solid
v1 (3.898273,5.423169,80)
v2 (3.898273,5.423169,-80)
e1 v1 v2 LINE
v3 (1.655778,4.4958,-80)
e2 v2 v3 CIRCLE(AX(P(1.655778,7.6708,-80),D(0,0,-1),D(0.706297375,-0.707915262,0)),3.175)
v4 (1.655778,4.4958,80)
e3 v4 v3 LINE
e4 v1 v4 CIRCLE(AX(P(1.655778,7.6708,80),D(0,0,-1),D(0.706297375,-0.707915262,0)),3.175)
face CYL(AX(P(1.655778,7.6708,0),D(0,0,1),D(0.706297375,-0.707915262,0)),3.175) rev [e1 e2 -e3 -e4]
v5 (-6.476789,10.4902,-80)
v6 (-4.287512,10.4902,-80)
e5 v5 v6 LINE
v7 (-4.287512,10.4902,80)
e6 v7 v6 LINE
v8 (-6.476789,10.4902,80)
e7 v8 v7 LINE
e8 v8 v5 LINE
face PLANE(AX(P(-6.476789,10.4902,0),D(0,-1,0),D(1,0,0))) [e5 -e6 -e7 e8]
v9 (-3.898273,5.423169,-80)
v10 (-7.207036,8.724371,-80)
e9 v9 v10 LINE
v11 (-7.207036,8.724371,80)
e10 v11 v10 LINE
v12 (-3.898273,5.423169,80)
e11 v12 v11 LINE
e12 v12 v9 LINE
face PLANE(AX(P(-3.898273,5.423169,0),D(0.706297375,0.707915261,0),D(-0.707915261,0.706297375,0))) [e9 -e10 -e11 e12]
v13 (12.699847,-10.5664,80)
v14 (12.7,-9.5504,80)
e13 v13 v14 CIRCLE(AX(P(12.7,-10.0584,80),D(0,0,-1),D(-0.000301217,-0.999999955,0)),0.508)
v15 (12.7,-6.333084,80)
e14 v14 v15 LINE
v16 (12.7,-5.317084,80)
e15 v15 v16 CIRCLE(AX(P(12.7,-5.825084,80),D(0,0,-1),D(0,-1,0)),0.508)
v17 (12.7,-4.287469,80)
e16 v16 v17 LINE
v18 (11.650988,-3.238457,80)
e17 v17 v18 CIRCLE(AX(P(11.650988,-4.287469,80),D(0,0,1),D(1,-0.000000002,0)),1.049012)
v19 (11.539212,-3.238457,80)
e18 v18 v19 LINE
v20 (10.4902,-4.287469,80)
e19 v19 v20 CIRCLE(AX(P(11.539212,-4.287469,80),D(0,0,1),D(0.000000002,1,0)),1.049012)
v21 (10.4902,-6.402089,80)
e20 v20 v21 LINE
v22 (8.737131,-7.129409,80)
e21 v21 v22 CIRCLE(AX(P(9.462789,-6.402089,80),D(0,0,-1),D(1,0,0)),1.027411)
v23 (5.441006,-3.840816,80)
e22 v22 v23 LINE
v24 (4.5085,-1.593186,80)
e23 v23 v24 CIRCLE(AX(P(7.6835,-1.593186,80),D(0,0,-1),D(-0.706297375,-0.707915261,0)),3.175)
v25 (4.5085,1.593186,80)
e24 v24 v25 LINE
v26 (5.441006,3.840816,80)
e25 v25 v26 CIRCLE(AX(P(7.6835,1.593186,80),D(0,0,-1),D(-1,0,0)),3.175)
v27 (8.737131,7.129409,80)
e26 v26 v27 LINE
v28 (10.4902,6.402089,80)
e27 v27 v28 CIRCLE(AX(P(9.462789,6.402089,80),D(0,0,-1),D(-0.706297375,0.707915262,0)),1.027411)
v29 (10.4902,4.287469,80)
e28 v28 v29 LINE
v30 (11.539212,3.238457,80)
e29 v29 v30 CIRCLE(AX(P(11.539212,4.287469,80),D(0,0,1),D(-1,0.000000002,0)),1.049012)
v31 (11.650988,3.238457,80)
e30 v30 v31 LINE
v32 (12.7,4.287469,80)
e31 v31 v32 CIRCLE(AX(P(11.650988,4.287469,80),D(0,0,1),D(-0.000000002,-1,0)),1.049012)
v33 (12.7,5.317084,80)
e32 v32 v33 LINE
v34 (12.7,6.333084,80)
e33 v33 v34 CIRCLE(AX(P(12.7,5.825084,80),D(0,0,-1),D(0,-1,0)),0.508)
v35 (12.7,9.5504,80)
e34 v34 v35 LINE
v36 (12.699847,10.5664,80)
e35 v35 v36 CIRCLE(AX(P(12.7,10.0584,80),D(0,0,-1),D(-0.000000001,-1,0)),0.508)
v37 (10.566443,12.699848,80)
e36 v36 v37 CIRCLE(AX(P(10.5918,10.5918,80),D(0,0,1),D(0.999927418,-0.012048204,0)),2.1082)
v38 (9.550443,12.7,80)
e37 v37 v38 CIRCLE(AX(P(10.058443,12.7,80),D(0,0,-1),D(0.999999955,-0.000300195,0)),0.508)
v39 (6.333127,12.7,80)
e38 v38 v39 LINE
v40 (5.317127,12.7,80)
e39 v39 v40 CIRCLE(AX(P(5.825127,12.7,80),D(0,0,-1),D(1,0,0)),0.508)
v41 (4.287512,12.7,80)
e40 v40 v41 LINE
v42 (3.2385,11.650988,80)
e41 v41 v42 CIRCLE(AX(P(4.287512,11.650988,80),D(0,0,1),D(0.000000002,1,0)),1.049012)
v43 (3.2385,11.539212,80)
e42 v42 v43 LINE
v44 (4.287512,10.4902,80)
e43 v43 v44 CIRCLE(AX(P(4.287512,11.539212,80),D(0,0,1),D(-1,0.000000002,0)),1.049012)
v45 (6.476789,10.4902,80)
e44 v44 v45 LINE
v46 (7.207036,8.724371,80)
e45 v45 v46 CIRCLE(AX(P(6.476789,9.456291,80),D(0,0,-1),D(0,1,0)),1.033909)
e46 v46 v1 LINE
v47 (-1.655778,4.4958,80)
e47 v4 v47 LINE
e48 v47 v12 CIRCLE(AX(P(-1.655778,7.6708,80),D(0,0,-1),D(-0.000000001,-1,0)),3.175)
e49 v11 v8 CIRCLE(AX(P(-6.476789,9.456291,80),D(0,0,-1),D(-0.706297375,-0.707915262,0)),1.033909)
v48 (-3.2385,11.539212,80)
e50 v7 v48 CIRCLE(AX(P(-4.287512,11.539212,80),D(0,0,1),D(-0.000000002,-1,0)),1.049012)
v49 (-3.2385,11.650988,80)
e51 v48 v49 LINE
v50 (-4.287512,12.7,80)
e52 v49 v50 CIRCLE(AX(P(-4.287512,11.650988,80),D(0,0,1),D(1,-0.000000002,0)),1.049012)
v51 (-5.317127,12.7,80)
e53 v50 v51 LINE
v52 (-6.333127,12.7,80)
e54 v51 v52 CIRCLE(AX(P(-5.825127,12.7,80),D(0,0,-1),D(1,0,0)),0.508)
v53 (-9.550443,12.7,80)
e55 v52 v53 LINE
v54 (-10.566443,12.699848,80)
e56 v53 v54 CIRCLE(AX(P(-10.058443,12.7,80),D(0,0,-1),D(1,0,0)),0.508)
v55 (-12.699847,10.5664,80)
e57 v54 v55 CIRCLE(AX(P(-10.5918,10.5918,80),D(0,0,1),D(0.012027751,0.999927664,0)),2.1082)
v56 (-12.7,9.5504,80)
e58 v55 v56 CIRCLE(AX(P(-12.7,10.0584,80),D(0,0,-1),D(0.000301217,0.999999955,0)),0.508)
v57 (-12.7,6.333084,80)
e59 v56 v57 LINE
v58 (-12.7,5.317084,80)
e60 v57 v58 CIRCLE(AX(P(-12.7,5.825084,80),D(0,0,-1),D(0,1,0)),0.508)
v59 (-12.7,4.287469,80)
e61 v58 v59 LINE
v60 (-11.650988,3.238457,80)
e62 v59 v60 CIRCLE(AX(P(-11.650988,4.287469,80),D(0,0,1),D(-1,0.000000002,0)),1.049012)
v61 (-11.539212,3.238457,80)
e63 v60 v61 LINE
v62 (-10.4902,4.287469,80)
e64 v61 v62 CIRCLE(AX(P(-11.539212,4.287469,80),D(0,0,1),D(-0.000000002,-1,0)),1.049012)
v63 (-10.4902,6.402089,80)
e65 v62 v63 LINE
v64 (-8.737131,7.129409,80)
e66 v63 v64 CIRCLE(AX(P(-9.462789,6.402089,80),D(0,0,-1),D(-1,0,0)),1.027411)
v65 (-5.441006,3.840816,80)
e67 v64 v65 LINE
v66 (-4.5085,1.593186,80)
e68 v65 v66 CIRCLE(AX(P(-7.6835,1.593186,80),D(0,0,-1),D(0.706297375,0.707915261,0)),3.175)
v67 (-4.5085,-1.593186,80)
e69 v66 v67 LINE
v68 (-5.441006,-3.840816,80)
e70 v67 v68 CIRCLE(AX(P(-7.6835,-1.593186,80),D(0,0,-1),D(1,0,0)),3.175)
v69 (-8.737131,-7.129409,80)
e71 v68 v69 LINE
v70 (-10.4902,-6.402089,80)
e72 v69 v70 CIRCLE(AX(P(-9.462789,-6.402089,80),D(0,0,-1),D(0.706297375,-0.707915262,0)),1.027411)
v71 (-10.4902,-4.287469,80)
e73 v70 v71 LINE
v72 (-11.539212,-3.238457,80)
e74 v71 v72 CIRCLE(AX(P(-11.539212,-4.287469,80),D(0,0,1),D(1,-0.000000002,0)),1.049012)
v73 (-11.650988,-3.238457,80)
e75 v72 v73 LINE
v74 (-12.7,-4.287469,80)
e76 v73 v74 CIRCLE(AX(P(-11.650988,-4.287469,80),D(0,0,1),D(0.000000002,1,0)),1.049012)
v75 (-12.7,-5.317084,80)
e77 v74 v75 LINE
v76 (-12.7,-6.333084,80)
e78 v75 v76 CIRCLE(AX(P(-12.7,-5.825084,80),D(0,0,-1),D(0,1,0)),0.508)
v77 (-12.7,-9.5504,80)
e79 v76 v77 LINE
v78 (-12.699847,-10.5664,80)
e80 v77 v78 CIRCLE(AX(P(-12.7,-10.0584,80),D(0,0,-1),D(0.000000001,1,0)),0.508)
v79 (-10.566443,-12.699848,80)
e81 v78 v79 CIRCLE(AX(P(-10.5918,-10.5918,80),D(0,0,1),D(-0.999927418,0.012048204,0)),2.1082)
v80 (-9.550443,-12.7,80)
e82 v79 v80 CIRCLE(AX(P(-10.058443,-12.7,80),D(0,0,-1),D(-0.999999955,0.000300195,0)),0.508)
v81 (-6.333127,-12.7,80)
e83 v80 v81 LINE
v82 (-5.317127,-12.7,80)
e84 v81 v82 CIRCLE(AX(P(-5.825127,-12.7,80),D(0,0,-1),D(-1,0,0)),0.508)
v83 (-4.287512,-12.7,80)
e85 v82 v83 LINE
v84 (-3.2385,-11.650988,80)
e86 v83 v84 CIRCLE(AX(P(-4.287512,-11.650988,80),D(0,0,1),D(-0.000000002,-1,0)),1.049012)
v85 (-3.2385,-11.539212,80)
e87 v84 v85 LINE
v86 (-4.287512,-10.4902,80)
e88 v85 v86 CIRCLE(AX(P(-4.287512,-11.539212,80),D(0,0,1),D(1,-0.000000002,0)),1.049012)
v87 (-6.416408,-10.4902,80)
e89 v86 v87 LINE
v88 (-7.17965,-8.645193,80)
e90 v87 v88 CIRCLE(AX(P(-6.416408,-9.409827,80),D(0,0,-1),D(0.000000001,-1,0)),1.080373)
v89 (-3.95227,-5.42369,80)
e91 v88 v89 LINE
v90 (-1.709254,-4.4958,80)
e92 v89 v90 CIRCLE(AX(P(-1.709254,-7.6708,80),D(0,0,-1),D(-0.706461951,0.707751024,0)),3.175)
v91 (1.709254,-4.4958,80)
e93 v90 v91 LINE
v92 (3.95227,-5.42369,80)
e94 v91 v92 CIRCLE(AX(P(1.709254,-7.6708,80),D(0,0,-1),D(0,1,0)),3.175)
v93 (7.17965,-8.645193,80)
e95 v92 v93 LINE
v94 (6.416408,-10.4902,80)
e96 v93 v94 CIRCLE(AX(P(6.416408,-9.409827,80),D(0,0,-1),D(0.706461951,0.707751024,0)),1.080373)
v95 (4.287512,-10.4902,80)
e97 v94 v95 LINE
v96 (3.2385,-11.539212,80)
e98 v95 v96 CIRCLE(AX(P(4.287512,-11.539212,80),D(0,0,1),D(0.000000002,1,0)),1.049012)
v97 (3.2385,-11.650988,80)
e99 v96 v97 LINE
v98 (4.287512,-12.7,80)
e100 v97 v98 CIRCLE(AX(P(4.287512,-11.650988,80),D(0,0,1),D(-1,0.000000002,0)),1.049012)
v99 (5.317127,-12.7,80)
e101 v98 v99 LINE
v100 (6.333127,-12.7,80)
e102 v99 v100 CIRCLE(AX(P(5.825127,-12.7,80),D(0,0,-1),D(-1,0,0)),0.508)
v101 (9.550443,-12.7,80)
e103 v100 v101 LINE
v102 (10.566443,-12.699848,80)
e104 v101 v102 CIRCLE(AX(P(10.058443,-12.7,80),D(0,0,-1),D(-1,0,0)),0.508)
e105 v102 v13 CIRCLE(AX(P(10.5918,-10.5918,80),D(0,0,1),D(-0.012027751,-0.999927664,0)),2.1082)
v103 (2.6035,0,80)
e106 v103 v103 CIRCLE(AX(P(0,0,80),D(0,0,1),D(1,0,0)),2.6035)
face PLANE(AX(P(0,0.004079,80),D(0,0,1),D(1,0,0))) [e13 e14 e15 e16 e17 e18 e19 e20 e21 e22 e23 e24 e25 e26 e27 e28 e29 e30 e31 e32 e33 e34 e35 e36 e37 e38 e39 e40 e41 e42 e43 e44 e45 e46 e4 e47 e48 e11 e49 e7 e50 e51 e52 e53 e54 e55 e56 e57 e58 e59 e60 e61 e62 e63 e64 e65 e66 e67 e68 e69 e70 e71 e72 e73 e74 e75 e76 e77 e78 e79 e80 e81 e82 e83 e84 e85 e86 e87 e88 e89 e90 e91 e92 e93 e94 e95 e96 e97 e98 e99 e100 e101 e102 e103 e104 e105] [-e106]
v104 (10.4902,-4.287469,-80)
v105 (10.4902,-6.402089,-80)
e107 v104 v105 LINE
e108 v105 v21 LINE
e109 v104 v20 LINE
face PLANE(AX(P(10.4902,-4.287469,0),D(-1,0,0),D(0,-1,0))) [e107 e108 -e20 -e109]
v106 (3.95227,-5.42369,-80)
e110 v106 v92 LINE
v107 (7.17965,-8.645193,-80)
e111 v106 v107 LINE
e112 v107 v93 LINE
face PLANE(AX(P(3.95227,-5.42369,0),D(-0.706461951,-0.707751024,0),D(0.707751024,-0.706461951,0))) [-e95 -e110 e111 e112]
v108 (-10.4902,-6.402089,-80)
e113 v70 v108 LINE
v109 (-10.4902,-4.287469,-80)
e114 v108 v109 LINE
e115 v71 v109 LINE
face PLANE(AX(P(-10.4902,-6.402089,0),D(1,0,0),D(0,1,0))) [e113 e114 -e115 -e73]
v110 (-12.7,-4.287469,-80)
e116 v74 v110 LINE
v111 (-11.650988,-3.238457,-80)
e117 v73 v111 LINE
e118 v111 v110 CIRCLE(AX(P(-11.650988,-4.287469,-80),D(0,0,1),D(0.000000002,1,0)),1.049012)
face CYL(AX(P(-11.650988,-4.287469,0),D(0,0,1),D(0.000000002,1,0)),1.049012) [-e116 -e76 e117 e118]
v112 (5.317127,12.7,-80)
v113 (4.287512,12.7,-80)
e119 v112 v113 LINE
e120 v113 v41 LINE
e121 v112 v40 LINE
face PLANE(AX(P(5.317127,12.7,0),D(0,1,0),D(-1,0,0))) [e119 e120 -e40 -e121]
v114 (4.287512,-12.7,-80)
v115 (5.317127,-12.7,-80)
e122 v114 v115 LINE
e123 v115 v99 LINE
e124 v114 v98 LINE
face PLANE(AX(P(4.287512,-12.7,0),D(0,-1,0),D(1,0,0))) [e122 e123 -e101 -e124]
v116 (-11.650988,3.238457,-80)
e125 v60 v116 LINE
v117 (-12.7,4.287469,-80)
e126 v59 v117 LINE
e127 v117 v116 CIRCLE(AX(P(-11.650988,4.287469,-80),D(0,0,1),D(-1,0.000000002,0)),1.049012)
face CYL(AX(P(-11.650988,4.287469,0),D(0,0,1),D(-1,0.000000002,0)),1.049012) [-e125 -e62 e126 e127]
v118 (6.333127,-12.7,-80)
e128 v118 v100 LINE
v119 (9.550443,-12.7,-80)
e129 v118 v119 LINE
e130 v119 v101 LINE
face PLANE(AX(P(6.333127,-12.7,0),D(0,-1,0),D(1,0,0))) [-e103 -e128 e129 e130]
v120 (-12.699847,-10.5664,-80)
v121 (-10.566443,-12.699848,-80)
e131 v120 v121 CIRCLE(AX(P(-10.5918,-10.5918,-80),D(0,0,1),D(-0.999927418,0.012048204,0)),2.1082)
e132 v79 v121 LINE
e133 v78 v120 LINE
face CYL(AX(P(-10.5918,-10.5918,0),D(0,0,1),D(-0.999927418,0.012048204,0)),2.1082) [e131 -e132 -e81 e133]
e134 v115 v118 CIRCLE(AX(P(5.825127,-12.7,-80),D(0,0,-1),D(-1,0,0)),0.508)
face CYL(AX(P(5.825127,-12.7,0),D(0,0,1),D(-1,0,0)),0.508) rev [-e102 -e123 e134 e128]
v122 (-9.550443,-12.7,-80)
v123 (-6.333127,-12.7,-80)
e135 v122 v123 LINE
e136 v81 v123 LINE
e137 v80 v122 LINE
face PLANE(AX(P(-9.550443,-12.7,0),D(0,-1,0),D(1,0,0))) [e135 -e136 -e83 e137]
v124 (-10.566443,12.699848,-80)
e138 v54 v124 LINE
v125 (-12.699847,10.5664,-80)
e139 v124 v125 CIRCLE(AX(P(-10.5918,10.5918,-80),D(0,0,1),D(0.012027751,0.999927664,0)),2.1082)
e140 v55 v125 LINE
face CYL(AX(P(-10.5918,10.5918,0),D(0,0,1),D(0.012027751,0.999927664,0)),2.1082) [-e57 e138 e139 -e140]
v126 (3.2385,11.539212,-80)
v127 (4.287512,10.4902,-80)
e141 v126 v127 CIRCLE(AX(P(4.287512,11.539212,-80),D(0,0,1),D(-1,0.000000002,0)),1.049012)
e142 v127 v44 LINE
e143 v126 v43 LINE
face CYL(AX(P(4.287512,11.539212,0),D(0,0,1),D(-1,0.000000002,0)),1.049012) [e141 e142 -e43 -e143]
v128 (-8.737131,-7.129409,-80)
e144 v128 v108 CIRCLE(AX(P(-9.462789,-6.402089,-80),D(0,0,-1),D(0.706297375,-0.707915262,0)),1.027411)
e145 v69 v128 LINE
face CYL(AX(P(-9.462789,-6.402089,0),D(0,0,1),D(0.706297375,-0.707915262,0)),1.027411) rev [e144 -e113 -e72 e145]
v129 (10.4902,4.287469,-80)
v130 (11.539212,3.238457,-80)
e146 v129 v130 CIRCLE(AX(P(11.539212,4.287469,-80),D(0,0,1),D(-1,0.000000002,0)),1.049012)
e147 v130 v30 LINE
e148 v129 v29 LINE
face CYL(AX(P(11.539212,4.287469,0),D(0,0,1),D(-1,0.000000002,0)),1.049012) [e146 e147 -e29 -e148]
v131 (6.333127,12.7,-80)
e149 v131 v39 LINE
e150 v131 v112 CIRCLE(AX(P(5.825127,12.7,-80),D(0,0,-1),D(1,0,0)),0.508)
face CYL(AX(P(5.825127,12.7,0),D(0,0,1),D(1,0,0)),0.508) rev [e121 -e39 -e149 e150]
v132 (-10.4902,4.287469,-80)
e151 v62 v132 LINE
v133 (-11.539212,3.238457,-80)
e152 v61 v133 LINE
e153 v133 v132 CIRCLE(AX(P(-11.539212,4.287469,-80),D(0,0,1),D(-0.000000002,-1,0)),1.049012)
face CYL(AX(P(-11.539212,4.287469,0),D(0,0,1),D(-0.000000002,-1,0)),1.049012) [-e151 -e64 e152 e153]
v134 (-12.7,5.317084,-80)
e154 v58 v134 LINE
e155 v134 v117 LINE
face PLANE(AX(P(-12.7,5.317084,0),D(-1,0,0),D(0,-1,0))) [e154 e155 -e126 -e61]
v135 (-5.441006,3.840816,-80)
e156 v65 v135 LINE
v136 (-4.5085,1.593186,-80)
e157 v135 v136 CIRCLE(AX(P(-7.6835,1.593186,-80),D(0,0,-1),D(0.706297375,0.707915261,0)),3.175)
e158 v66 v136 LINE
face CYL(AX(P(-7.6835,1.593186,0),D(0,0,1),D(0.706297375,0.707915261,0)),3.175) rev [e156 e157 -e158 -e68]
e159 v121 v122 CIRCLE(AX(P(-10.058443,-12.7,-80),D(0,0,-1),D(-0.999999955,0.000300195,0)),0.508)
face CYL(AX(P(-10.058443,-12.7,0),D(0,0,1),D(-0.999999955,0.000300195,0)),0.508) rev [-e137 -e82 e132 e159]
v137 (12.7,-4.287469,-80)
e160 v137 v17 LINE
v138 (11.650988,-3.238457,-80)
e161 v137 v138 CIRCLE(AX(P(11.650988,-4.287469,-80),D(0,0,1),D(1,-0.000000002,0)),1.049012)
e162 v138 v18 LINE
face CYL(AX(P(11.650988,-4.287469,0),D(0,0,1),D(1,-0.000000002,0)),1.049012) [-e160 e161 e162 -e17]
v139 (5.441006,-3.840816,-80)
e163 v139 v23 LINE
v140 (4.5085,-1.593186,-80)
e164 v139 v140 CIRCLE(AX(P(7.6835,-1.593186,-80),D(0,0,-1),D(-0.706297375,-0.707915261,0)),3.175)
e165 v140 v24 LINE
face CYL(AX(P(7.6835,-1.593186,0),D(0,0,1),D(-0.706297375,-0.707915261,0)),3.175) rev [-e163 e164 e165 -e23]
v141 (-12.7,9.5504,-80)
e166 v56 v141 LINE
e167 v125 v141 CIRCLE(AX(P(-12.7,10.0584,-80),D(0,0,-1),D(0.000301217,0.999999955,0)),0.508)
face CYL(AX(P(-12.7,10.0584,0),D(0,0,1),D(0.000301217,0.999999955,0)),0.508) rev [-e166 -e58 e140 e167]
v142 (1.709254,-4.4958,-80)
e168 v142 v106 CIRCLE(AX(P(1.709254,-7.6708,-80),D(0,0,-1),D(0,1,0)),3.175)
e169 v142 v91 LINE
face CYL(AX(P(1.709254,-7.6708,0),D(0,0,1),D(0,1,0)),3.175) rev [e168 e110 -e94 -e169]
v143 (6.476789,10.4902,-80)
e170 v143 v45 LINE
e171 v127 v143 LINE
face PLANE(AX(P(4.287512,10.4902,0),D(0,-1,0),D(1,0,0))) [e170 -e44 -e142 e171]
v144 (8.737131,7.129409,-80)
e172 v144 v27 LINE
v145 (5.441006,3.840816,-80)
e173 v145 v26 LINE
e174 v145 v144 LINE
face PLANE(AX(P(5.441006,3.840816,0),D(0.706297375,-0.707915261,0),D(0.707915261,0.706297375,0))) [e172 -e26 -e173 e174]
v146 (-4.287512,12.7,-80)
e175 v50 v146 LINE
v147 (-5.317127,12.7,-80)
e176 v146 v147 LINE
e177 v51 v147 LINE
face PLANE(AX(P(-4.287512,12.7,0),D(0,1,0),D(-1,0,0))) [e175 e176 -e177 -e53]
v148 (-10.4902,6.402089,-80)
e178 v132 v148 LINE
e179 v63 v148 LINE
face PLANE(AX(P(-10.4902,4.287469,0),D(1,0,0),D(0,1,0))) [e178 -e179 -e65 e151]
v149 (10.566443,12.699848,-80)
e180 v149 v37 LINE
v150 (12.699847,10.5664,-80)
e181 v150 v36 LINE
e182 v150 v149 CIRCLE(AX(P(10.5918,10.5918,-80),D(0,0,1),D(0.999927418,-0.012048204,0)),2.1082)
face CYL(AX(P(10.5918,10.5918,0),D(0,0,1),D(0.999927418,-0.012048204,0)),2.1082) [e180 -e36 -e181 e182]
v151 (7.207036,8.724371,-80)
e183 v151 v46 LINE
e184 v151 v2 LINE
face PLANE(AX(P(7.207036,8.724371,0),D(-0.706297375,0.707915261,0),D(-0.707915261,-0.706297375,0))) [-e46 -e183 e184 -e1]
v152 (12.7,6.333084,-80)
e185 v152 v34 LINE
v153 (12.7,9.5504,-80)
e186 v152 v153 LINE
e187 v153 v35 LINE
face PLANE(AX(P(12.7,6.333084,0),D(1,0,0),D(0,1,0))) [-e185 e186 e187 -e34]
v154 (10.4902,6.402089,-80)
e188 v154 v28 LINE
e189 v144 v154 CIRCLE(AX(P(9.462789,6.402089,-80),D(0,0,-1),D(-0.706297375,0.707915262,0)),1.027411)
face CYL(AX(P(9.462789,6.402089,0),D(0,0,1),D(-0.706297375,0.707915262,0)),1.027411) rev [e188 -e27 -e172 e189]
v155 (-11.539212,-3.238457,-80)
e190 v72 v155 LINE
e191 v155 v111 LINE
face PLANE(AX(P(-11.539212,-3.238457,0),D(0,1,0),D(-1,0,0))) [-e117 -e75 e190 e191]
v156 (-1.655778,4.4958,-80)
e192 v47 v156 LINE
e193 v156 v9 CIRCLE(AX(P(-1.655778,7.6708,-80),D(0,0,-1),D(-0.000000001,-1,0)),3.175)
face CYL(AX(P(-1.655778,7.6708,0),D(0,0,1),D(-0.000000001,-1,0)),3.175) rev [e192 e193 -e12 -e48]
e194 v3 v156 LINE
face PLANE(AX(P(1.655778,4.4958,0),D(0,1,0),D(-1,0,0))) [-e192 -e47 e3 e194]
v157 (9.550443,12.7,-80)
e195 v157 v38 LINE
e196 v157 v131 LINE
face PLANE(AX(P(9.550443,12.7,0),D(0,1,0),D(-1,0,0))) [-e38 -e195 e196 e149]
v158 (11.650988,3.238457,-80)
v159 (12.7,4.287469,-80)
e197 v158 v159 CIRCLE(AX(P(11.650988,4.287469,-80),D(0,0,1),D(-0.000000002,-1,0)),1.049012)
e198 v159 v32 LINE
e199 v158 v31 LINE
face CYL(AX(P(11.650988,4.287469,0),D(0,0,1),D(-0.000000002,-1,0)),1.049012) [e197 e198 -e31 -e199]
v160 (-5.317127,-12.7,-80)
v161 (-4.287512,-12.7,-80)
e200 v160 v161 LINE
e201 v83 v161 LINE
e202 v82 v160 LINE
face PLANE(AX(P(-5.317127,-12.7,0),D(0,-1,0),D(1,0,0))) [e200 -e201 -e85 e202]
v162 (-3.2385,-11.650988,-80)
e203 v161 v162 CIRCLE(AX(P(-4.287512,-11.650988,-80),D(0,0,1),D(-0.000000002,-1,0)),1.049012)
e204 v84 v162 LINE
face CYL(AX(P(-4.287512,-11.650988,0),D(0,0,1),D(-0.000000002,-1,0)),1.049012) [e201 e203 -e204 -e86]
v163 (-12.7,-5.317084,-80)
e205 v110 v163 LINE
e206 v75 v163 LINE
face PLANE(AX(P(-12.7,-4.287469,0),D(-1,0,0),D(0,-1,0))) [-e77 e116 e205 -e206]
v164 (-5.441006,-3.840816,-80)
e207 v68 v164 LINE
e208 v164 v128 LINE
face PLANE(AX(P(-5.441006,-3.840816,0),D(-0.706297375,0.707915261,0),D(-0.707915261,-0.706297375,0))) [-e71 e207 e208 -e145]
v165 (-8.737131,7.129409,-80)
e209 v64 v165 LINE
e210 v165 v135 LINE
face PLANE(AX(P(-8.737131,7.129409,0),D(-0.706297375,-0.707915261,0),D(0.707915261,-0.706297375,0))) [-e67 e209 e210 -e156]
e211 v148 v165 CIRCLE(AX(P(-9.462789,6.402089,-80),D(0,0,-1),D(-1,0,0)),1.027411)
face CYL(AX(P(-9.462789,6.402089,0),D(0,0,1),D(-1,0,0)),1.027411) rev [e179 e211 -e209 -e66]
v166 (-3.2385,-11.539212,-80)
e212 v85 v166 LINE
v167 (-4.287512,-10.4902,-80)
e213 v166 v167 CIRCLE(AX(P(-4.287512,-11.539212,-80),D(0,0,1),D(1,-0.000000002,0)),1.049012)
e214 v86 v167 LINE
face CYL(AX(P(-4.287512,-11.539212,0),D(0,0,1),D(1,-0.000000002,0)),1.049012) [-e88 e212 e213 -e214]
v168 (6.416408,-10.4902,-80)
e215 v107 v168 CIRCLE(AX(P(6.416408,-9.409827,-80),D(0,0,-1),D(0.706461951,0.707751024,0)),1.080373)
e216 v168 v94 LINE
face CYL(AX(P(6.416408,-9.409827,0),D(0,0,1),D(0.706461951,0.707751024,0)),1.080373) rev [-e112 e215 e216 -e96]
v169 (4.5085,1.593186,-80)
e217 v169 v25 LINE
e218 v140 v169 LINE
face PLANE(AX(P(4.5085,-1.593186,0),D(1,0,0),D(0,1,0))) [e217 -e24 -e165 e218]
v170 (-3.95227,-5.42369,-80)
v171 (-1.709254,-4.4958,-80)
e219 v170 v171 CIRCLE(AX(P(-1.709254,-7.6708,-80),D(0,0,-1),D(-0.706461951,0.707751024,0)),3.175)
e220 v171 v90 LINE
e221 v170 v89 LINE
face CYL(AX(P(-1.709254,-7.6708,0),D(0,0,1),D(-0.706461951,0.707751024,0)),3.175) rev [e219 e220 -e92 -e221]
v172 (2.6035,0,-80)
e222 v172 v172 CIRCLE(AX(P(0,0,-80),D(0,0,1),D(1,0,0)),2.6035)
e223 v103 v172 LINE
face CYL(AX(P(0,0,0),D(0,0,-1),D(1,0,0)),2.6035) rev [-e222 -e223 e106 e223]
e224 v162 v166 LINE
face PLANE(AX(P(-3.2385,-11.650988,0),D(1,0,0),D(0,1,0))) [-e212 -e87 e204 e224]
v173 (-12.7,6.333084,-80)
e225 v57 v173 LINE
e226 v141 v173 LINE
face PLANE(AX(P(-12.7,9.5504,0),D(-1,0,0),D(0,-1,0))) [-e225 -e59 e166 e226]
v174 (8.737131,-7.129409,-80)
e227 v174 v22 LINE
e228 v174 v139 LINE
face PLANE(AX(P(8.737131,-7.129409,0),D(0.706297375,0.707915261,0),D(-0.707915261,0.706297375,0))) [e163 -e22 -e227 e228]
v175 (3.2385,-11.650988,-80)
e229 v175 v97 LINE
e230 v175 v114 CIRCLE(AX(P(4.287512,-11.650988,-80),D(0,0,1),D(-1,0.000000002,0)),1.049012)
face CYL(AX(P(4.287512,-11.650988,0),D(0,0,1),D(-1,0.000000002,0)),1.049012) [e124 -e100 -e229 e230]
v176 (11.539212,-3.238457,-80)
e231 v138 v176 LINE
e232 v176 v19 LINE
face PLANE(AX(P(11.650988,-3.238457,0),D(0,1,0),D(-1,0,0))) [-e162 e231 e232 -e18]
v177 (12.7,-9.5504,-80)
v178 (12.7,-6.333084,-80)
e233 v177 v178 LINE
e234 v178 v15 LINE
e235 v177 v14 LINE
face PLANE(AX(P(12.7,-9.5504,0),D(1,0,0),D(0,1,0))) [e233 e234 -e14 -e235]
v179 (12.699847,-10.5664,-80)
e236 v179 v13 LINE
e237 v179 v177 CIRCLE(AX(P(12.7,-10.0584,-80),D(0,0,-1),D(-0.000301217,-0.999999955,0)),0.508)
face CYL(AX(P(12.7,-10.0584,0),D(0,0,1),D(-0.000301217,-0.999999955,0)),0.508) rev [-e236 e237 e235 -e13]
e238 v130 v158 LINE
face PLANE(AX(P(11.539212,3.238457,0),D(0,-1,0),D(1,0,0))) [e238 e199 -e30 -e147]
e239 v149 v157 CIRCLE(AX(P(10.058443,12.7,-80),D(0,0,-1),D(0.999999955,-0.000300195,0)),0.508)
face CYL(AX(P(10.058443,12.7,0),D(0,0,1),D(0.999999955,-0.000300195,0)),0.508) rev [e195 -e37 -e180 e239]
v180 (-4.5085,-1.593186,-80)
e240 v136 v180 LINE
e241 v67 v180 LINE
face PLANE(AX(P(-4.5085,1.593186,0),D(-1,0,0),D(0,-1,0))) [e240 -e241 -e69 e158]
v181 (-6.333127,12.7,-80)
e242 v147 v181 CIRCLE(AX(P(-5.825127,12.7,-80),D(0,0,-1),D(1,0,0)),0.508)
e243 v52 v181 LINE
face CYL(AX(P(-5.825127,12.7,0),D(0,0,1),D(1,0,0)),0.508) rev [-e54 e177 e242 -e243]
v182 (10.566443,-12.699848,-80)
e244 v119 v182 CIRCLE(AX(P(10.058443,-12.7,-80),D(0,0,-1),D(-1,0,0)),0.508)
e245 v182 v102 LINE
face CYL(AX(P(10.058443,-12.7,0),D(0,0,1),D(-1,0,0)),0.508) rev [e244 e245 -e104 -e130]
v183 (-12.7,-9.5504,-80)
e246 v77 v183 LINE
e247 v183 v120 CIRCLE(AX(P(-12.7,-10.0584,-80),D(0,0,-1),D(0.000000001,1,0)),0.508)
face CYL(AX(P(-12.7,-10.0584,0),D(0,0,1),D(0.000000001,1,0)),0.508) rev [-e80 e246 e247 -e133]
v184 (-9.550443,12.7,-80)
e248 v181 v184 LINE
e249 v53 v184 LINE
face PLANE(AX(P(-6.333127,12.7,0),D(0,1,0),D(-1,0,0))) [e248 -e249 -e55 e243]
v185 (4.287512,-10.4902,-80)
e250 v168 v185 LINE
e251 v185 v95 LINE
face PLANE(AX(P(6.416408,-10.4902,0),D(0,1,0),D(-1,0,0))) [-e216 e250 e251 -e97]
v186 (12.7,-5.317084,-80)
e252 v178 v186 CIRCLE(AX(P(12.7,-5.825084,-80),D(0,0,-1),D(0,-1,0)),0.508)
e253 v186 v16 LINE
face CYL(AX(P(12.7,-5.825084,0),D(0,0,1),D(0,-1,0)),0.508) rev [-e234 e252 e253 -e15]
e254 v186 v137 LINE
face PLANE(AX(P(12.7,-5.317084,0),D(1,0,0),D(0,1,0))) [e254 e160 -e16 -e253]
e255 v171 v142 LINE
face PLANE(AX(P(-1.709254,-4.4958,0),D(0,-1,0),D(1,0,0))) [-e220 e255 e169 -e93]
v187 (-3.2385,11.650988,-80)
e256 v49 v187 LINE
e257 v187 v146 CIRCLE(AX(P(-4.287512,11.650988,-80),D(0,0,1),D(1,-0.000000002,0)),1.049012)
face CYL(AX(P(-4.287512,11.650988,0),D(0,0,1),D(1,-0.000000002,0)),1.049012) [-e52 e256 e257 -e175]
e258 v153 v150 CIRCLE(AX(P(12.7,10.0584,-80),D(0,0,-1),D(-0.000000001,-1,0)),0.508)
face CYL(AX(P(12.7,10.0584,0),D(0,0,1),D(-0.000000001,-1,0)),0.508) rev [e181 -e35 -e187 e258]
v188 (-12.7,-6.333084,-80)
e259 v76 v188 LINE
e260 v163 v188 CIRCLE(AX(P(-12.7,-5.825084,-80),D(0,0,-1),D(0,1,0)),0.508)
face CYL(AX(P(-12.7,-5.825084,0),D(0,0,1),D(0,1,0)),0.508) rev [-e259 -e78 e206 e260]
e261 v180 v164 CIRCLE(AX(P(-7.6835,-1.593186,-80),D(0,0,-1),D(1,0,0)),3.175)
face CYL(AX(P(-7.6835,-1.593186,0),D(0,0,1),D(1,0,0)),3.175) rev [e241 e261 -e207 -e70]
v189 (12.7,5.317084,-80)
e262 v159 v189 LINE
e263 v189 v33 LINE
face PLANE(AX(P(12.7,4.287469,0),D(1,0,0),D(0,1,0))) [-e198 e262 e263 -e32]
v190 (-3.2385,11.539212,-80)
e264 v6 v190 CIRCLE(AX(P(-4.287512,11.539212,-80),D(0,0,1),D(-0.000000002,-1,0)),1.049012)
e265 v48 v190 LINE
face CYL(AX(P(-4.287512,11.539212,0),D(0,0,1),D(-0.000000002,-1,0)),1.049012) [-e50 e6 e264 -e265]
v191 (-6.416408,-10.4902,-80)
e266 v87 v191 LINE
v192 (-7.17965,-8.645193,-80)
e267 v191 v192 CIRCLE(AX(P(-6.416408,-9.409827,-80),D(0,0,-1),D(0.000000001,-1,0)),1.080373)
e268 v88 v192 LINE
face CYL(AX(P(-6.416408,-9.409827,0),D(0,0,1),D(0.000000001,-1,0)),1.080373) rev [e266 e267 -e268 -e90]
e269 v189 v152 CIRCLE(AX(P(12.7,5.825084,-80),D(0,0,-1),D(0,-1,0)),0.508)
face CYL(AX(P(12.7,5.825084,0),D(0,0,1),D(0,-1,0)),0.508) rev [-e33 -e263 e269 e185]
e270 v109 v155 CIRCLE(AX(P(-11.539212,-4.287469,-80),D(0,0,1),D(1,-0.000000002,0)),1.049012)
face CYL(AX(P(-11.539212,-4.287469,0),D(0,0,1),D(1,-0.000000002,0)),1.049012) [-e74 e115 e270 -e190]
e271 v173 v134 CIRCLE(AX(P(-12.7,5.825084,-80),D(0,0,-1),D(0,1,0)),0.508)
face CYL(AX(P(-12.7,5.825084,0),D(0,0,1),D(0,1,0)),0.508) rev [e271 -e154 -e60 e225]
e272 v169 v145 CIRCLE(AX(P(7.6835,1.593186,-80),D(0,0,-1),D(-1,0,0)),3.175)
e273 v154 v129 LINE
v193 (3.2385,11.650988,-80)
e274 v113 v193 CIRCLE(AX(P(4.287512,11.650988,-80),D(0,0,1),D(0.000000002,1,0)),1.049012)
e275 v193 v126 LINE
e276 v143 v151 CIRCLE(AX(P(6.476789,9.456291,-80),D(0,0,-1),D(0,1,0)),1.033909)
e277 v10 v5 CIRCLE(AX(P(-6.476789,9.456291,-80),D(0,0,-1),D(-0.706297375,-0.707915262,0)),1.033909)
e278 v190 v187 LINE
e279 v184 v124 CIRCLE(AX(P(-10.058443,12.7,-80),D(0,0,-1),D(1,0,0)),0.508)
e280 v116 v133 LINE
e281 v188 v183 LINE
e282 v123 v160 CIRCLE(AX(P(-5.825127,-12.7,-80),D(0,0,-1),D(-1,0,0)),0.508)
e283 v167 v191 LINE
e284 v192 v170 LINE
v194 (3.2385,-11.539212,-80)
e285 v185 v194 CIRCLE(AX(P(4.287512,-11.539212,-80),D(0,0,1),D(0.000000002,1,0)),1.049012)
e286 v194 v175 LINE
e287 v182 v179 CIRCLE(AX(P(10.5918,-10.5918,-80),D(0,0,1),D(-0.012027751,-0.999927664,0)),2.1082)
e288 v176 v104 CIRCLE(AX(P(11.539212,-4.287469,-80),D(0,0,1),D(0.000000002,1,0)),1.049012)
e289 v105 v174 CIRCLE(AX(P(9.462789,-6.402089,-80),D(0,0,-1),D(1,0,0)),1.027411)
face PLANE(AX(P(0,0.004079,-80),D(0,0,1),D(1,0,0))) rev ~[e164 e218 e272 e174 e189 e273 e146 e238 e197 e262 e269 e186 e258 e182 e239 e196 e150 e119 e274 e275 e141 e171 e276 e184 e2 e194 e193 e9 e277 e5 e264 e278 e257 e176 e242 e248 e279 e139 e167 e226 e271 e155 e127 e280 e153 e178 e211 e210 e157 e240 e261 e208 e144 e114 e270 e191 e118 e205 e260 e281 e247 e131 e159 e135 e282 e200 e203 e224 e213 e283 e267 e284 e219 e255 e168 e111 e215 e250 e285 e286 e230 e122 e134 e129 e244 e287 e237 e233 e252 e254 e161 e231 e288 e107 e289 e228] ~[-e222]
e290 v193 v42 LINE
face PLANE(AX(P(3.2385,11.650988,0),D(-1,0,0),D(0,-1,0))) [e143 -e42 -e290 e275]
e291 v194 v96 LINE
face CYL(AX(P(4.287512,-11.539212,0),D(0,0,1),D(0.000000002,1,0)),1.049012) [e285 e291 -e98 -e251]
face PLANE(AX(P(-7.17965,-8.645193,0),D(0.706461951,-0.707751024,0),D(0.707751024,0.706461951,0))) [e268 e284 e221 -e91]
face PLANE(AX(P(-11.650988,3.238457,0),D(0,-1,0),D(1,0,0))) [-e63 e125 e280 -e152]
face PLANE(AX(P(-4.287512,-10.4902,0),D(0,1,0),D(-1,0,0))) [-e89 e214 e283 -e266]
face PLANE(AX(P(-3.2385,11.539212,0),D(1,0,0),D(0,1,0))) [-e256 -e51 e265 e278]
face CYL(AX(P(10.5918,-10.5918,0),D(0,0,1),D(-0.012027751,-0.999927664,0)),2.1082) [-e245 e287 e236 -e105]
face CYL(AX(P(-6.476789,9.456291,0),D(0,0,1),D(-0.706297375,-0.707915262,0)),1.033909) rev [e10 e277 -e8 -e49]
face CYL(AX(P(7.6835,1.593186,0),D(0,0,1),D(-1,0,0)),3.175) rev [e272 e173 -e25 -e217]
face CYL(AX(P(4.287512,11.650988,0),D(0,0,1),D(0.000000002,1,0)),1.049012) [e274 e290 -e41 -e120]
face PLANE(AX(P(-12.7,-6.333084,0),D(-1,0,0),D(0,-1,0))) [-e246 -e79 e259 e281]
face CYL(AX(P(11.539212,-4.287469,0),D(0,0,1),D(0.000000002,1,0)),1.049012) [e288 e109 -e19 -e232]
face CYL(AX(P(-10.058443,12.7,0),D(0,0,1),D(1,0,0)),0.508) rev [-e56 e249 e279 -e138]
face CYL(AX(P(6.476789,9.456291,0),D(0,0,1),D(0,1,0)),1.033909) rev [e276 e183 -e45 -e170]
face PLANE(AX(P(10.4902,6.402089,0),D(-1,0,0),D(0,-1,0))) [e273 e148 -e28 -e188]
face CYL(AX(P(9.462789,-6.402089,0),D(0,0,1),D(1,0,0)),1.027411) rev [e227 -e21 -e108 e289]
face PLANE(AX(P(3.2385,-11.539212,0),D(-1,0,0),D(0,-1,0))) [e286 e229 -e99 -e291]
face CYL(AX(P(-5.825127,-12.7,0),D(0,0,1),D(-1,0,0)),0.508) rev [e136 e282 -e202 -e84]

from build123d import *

# Parameters (mm, degrees)
SKETCH1_R           = 2.6035
BOSS_EXTRUDE1_DEPTH = 80


with BuildPart() as part:
    # Sketch1 → Boss-Extrude1 (new body, symmetric)
    with BuildSketch(Plane.XY):
        with BuildLine():
            Line((-7.179650497, -8.645192506), (-3.952270251, -5.423690499))
            ThreePointArc((-3.952270251, -5.423690499), (-2.922936451, -4.736929036), (-1.709253557, -4.4958))
            Line((-1.709253557, -4.4958), (1.709253557, -4.4958))
            ThreePointArc((1.709253557, -4.4958), (2.922936451, -4.736929036), (3.952270251, -5.423690499))
            Line((3.952270251, -5.423690499), (7.179650497, -8.645192506))
            ThreePointArc((7.179650497, -8.645192506), (7.41473083, -9.822813117), (6.416408329, -10.4902))
            Line((6.416408329, -10.4902), (4.287512407, -10.4902))
            ThreePointArc((4.287512407, -10.4902), (3.54574862, -10.79744862), (3.2385, -11.539212407))
            Line((3.2385, -11.539212407), (3.2385, -11.650987593))
            ThreePointArc((3.2385, -11.650987593), (3.54574862, -12.39275138), (4.287512407, -12.7))
            Line((4.287512407, -12.7), (5.317126718, -12.7))
            ThreePointArc((5.317126718, -12.7), (5.825126718, -12.192), (6.333126718, -12.7))
            Line((6.333126718, -12.7), (9.550443118, -12.7))
            ThreePointArc((9.550443118, -12.7), (10.058366869, -12.192000006), (10.566443095, -12.699847501))
            ThreePointArc((10.566443095, -12.699847501), (12.082537762, -12.08250727), (12.699846982, -10.566399977))
            ThreePointArc((12.699846982, -10.566399977), (12.192000006, -10.058323491), (12.7, -9.5504))
            Line((12.7, -9.5504), (12.7, -6.3330836))
            ThreePointArc((12.7, -6.3330836), (12.192, -5.8250836), (12.7, -5.3170836))
            Line((12.7, -5.3170836), (12.7, -4.287469289))
            ThreePointArc((12.7, -4.287469289), (12.39275138, -3.545705502), (11.650987593, -3.238456882))
            Line((11.650987593, -3.238456882), (11.539212407, -3.238456882))
            ThreePointArc((11.539212407, -3.238456882), (10.79744862, -3.545705502), (10.4902, -4.287469289))
            Line((10.4902, -4.287469289), (10.4902, -6.402089023))
            ThreePointArc((10.4902, -6.402089023), (9.856505071, -7.351067942), (8.737131347, -7.129408934))
            Line((8.737131347, -7.129408934), (5.441005833, -3.840816462))
            ThreePointArc((5.441005833, -3.840816462), (4.750877967, -2.809883091), (4.5085, -1.593185507))
            Line((4.5085, -1.593185507), (4.5085, 1.593185507))
            ThreePointArc((4.5085, 1.593185507), (4.750877967, 2.809883091), (5.441005833, 3.840816462))
            Line((5.441005833, 3.840816462), (8.737131347, 7.129408934))
            ThreePointArc((8.737131347, 7.129408934), (9.856505071, 7.351067942), (10.4902, 6.402089023))
            Line((10.4902, 6.402089023), (10.4902, 4.287469289))
            ThreePointArc((10.4902, 4.287469289), (10.79744862, 3.545705502), (11.539212407, 3.238456882))
            Line((11.539212407, 3.238456882), (11.650987593, 3.238456882))
            ThreePointArc((11.650987593, 3.238456882), (12.39275138, 3.545705502), (12.7, 4.287469289))
            Line((12.7, 4.287469289), (12.7, 5.3170836))
            ThreePointArc((12.7, 5.3170836), (12.192, 5.8250836), (12.7, 6.3330836))
            Line((12.7, 6.3330836), (12.7, 9.5504))
            ThreePointArc((12.7, 9.5504), (12.192000006, 10.058323491), (12.699846982, 10.566399977))
            ThreePointArc((12.699846982, 10.566399977), (12.082537762, 12.08250727), (10.566443095, 12.699847501))
            ThreePointArc((10.566443095, 12.699847501), (10.058366869, 12.192000006), (9.550443118, 12.7))
            Line((9.550443118, 12.7), (6.333126718, 12.7))
            ThreePointArc((6.333126718, 12.7), (5.825126718, 12.192), (5.317126718, 12.7))
            Line((5.317126718, 12.7), (4.287512407, 12.7))
            ThreePointArc((4.287512407, 12.7), (3.54574862, 12.39275138), (3.2385, 11.650987593))
            Line((3.2385, 11.650987593), (3.2385, 11.539212407))
            ThreePointArc((3.2385, 11.539212407), (3.54574862, 10.79744862), (4.287512407, 10.4902))
            Line((4.287512407, 10.4902), (6.476788598, 10.4902))
            ThreePointArc((6.476788598, 10.4902), (7.432222385, 9.85140422), (7.207036008, 8.724370562))
            Line((7.207036008, 8.724370562), (3.898272566, 5.423169045))
            ThreePointArc((3.898272566, 5.423169045), (2.869120213, 4.736787962), (1.655778399, 4.4958))
            Line((1.655778399, 4.4958), (-1.655778399, 4.4958))
            ThreePointArc((-1.655778399, 4.4958), (-2.869120213, 4.736787962), (-3.898272566, 5.423169045))
            Line((-3.898272566, 5.423169045), (-7.207036008, 8.724370562))
            ThreePointArc((-7.207036008, 8.724370562), (-7.432222385, 9.85140422), (-6.476788598, 10.4902))
            Line((-6.476788598, 10.4902), (-4.287512407, 10.4902))
            ThreePointArc((-4.287512407, 10.4902), (-3.54574862, 10.79744862), (-3.2385, 11.539212407))
            Line((-3.2385, 11.539212407), (-3.2385, 11.650987593))
            ThreePointArc((-3.2385, 11.650987593), (-3.54574862, 12.39275138), (-4.287512407, 12.7))
            Line((-4.287512407, 12.7), (-5.317126718, 12.7))
            ThreePointArc((-5.317126718, 12.7), (-5.825126718, 12.192), (-6.333126718, 12.7))
            Line((-6.333126718, 12.7), (-9.550443118, 12.7))
            ThreePointArc((-9.550443118, 12.7), (-10.058366869, 12.192000006), (-10.566443095, 12.699847501))
            ThreePointArc((-10.566443095, 12.699847501), (-12.082537762, 12.08250727), (-12.699846982, 10.566399977))
            ThreePointArc((-12.699846982, 10.566399977), (-12.192000006, 10.058323491), (-12.7, 9.5504))
            Line((-12.7, 9.5504), (-12.7, 6.3330836))
            ThreePointArc((-12.7, 6.3330836), (-12.192, 5.8250836), (-12.7, 5.3170836))
            Line((-12.7, 5.3170836), (-12.7, 4.287469289))
            ThreePointArc((-12.7, 4.287469289), (-12.39275138, 3.545705502), (-11.650987593, 3.238456882))
            Line((-11.650987593, 3.238456882), (-11.539212407, 3.238456882))
            ThreePointArc((-11.539212407, 3.238456882), (-10.79744862, 3.545705502), (-10.4902, 4.287469289))
            Line((-10.4902, 4.287469289), (-10.4902, 6.402089023))
            ThreePointArc((-10.4902, 6.402089023), (-9.856505071, 7.351067942), (-8.737131347, 7.129408934))
            Line((-8.737131347, 7.129408934), (-5.441005833, 3.840816462))
            ThreePointArc((-5.441005833, 3.840816462), (-4.750877967, 2.809883091), (-4.5085, 1.593185507))
            Line((-4.5085, 1.593185507), (-4.5085, -1.593185507))
            ThreePointArc((-4.5085, -1.593185507), (-4.750877967, -2.809883091), (-5.441005833, -3.840816462))
            Line((-5.441005833, -3.840816462), (-8.737131347, -7.129408934))
            ThreePointArc((-8.737131347, -7.129408934), (-9.856505071, -7.351067942), (-10.4902, -6.402089023))
            Line((-10.4902, -6.402089023), (-10.4902, -4.287469289))
            ThreePointArc((-10.4902, -4.287469289), (-10.79744862, -3.545705502), (-11.539212407, -3.238456882))
            Line((-11.539212407, -3.238456882), (-11.650987593, -3.238456882))
            ThreePointArc((-11.650987593, -3.238456882), (-12.39275138, -3.545705502), (-12.7, -4.287469289))
            Line((-12.7, -4.287469289), (-12.7, -5.3170836))
            ThreePointArc((-12.7, -5.3170836), (-12.192, -5.8250836), (-12.7, -6.3330836))
            Line((-12.7, -6.3330836), (-12.7, -9.5504))
            ThreePointArc((-12.7, -9.5504), (-12.192000006, -10.058323491), (-12.699846982, -10.566399977))
            ThreePointArc((-12.699846982, -10.566399977), (-12.082537762, -12.08250727), (-10.566443095, -12.699847501))
            ThreePointArc((-10.566443095, -12.699847501), (-10.058366869, -12.192000006), (-9.550443118, -12.7))
            Line((-9.550443118, -12.7), (-6.333126718, -12.7))
            ThreePointArc((-6.333126718, -12.7), (-5.825126718, -12.192), (-5.317126718, -12.7))
            Line((-5.317126718, -12.7), (-4.287512407, -12.7))
            ThreePointArc((-4.287512407, -12.7), (-3.54574862, -12.39275138), (-3.2385, -11.650987593))
            Line((-3.2385, -11.650987593), (-3.2385, -11.539212407))
            ThreePointArc((-3.2385, -11.539212407), (-3.54574862, -10.79744862), (-4.287512407, -10.4902))
            Line((-4.287512407, -10.4902), (-6.416408329, -10.4902))
            ThreePointArc((-6.416408329, -10.4902), (-7.41473083, -9.822813117), (-7.179650497, -8.645192506))
        make_face()
        Circle(SKETCH1_R, mode=Mode.SUBTRACT)
    extrude(amount=BOSS_EXTRUDE1_DEPTH, both=True)


solid = part.part
